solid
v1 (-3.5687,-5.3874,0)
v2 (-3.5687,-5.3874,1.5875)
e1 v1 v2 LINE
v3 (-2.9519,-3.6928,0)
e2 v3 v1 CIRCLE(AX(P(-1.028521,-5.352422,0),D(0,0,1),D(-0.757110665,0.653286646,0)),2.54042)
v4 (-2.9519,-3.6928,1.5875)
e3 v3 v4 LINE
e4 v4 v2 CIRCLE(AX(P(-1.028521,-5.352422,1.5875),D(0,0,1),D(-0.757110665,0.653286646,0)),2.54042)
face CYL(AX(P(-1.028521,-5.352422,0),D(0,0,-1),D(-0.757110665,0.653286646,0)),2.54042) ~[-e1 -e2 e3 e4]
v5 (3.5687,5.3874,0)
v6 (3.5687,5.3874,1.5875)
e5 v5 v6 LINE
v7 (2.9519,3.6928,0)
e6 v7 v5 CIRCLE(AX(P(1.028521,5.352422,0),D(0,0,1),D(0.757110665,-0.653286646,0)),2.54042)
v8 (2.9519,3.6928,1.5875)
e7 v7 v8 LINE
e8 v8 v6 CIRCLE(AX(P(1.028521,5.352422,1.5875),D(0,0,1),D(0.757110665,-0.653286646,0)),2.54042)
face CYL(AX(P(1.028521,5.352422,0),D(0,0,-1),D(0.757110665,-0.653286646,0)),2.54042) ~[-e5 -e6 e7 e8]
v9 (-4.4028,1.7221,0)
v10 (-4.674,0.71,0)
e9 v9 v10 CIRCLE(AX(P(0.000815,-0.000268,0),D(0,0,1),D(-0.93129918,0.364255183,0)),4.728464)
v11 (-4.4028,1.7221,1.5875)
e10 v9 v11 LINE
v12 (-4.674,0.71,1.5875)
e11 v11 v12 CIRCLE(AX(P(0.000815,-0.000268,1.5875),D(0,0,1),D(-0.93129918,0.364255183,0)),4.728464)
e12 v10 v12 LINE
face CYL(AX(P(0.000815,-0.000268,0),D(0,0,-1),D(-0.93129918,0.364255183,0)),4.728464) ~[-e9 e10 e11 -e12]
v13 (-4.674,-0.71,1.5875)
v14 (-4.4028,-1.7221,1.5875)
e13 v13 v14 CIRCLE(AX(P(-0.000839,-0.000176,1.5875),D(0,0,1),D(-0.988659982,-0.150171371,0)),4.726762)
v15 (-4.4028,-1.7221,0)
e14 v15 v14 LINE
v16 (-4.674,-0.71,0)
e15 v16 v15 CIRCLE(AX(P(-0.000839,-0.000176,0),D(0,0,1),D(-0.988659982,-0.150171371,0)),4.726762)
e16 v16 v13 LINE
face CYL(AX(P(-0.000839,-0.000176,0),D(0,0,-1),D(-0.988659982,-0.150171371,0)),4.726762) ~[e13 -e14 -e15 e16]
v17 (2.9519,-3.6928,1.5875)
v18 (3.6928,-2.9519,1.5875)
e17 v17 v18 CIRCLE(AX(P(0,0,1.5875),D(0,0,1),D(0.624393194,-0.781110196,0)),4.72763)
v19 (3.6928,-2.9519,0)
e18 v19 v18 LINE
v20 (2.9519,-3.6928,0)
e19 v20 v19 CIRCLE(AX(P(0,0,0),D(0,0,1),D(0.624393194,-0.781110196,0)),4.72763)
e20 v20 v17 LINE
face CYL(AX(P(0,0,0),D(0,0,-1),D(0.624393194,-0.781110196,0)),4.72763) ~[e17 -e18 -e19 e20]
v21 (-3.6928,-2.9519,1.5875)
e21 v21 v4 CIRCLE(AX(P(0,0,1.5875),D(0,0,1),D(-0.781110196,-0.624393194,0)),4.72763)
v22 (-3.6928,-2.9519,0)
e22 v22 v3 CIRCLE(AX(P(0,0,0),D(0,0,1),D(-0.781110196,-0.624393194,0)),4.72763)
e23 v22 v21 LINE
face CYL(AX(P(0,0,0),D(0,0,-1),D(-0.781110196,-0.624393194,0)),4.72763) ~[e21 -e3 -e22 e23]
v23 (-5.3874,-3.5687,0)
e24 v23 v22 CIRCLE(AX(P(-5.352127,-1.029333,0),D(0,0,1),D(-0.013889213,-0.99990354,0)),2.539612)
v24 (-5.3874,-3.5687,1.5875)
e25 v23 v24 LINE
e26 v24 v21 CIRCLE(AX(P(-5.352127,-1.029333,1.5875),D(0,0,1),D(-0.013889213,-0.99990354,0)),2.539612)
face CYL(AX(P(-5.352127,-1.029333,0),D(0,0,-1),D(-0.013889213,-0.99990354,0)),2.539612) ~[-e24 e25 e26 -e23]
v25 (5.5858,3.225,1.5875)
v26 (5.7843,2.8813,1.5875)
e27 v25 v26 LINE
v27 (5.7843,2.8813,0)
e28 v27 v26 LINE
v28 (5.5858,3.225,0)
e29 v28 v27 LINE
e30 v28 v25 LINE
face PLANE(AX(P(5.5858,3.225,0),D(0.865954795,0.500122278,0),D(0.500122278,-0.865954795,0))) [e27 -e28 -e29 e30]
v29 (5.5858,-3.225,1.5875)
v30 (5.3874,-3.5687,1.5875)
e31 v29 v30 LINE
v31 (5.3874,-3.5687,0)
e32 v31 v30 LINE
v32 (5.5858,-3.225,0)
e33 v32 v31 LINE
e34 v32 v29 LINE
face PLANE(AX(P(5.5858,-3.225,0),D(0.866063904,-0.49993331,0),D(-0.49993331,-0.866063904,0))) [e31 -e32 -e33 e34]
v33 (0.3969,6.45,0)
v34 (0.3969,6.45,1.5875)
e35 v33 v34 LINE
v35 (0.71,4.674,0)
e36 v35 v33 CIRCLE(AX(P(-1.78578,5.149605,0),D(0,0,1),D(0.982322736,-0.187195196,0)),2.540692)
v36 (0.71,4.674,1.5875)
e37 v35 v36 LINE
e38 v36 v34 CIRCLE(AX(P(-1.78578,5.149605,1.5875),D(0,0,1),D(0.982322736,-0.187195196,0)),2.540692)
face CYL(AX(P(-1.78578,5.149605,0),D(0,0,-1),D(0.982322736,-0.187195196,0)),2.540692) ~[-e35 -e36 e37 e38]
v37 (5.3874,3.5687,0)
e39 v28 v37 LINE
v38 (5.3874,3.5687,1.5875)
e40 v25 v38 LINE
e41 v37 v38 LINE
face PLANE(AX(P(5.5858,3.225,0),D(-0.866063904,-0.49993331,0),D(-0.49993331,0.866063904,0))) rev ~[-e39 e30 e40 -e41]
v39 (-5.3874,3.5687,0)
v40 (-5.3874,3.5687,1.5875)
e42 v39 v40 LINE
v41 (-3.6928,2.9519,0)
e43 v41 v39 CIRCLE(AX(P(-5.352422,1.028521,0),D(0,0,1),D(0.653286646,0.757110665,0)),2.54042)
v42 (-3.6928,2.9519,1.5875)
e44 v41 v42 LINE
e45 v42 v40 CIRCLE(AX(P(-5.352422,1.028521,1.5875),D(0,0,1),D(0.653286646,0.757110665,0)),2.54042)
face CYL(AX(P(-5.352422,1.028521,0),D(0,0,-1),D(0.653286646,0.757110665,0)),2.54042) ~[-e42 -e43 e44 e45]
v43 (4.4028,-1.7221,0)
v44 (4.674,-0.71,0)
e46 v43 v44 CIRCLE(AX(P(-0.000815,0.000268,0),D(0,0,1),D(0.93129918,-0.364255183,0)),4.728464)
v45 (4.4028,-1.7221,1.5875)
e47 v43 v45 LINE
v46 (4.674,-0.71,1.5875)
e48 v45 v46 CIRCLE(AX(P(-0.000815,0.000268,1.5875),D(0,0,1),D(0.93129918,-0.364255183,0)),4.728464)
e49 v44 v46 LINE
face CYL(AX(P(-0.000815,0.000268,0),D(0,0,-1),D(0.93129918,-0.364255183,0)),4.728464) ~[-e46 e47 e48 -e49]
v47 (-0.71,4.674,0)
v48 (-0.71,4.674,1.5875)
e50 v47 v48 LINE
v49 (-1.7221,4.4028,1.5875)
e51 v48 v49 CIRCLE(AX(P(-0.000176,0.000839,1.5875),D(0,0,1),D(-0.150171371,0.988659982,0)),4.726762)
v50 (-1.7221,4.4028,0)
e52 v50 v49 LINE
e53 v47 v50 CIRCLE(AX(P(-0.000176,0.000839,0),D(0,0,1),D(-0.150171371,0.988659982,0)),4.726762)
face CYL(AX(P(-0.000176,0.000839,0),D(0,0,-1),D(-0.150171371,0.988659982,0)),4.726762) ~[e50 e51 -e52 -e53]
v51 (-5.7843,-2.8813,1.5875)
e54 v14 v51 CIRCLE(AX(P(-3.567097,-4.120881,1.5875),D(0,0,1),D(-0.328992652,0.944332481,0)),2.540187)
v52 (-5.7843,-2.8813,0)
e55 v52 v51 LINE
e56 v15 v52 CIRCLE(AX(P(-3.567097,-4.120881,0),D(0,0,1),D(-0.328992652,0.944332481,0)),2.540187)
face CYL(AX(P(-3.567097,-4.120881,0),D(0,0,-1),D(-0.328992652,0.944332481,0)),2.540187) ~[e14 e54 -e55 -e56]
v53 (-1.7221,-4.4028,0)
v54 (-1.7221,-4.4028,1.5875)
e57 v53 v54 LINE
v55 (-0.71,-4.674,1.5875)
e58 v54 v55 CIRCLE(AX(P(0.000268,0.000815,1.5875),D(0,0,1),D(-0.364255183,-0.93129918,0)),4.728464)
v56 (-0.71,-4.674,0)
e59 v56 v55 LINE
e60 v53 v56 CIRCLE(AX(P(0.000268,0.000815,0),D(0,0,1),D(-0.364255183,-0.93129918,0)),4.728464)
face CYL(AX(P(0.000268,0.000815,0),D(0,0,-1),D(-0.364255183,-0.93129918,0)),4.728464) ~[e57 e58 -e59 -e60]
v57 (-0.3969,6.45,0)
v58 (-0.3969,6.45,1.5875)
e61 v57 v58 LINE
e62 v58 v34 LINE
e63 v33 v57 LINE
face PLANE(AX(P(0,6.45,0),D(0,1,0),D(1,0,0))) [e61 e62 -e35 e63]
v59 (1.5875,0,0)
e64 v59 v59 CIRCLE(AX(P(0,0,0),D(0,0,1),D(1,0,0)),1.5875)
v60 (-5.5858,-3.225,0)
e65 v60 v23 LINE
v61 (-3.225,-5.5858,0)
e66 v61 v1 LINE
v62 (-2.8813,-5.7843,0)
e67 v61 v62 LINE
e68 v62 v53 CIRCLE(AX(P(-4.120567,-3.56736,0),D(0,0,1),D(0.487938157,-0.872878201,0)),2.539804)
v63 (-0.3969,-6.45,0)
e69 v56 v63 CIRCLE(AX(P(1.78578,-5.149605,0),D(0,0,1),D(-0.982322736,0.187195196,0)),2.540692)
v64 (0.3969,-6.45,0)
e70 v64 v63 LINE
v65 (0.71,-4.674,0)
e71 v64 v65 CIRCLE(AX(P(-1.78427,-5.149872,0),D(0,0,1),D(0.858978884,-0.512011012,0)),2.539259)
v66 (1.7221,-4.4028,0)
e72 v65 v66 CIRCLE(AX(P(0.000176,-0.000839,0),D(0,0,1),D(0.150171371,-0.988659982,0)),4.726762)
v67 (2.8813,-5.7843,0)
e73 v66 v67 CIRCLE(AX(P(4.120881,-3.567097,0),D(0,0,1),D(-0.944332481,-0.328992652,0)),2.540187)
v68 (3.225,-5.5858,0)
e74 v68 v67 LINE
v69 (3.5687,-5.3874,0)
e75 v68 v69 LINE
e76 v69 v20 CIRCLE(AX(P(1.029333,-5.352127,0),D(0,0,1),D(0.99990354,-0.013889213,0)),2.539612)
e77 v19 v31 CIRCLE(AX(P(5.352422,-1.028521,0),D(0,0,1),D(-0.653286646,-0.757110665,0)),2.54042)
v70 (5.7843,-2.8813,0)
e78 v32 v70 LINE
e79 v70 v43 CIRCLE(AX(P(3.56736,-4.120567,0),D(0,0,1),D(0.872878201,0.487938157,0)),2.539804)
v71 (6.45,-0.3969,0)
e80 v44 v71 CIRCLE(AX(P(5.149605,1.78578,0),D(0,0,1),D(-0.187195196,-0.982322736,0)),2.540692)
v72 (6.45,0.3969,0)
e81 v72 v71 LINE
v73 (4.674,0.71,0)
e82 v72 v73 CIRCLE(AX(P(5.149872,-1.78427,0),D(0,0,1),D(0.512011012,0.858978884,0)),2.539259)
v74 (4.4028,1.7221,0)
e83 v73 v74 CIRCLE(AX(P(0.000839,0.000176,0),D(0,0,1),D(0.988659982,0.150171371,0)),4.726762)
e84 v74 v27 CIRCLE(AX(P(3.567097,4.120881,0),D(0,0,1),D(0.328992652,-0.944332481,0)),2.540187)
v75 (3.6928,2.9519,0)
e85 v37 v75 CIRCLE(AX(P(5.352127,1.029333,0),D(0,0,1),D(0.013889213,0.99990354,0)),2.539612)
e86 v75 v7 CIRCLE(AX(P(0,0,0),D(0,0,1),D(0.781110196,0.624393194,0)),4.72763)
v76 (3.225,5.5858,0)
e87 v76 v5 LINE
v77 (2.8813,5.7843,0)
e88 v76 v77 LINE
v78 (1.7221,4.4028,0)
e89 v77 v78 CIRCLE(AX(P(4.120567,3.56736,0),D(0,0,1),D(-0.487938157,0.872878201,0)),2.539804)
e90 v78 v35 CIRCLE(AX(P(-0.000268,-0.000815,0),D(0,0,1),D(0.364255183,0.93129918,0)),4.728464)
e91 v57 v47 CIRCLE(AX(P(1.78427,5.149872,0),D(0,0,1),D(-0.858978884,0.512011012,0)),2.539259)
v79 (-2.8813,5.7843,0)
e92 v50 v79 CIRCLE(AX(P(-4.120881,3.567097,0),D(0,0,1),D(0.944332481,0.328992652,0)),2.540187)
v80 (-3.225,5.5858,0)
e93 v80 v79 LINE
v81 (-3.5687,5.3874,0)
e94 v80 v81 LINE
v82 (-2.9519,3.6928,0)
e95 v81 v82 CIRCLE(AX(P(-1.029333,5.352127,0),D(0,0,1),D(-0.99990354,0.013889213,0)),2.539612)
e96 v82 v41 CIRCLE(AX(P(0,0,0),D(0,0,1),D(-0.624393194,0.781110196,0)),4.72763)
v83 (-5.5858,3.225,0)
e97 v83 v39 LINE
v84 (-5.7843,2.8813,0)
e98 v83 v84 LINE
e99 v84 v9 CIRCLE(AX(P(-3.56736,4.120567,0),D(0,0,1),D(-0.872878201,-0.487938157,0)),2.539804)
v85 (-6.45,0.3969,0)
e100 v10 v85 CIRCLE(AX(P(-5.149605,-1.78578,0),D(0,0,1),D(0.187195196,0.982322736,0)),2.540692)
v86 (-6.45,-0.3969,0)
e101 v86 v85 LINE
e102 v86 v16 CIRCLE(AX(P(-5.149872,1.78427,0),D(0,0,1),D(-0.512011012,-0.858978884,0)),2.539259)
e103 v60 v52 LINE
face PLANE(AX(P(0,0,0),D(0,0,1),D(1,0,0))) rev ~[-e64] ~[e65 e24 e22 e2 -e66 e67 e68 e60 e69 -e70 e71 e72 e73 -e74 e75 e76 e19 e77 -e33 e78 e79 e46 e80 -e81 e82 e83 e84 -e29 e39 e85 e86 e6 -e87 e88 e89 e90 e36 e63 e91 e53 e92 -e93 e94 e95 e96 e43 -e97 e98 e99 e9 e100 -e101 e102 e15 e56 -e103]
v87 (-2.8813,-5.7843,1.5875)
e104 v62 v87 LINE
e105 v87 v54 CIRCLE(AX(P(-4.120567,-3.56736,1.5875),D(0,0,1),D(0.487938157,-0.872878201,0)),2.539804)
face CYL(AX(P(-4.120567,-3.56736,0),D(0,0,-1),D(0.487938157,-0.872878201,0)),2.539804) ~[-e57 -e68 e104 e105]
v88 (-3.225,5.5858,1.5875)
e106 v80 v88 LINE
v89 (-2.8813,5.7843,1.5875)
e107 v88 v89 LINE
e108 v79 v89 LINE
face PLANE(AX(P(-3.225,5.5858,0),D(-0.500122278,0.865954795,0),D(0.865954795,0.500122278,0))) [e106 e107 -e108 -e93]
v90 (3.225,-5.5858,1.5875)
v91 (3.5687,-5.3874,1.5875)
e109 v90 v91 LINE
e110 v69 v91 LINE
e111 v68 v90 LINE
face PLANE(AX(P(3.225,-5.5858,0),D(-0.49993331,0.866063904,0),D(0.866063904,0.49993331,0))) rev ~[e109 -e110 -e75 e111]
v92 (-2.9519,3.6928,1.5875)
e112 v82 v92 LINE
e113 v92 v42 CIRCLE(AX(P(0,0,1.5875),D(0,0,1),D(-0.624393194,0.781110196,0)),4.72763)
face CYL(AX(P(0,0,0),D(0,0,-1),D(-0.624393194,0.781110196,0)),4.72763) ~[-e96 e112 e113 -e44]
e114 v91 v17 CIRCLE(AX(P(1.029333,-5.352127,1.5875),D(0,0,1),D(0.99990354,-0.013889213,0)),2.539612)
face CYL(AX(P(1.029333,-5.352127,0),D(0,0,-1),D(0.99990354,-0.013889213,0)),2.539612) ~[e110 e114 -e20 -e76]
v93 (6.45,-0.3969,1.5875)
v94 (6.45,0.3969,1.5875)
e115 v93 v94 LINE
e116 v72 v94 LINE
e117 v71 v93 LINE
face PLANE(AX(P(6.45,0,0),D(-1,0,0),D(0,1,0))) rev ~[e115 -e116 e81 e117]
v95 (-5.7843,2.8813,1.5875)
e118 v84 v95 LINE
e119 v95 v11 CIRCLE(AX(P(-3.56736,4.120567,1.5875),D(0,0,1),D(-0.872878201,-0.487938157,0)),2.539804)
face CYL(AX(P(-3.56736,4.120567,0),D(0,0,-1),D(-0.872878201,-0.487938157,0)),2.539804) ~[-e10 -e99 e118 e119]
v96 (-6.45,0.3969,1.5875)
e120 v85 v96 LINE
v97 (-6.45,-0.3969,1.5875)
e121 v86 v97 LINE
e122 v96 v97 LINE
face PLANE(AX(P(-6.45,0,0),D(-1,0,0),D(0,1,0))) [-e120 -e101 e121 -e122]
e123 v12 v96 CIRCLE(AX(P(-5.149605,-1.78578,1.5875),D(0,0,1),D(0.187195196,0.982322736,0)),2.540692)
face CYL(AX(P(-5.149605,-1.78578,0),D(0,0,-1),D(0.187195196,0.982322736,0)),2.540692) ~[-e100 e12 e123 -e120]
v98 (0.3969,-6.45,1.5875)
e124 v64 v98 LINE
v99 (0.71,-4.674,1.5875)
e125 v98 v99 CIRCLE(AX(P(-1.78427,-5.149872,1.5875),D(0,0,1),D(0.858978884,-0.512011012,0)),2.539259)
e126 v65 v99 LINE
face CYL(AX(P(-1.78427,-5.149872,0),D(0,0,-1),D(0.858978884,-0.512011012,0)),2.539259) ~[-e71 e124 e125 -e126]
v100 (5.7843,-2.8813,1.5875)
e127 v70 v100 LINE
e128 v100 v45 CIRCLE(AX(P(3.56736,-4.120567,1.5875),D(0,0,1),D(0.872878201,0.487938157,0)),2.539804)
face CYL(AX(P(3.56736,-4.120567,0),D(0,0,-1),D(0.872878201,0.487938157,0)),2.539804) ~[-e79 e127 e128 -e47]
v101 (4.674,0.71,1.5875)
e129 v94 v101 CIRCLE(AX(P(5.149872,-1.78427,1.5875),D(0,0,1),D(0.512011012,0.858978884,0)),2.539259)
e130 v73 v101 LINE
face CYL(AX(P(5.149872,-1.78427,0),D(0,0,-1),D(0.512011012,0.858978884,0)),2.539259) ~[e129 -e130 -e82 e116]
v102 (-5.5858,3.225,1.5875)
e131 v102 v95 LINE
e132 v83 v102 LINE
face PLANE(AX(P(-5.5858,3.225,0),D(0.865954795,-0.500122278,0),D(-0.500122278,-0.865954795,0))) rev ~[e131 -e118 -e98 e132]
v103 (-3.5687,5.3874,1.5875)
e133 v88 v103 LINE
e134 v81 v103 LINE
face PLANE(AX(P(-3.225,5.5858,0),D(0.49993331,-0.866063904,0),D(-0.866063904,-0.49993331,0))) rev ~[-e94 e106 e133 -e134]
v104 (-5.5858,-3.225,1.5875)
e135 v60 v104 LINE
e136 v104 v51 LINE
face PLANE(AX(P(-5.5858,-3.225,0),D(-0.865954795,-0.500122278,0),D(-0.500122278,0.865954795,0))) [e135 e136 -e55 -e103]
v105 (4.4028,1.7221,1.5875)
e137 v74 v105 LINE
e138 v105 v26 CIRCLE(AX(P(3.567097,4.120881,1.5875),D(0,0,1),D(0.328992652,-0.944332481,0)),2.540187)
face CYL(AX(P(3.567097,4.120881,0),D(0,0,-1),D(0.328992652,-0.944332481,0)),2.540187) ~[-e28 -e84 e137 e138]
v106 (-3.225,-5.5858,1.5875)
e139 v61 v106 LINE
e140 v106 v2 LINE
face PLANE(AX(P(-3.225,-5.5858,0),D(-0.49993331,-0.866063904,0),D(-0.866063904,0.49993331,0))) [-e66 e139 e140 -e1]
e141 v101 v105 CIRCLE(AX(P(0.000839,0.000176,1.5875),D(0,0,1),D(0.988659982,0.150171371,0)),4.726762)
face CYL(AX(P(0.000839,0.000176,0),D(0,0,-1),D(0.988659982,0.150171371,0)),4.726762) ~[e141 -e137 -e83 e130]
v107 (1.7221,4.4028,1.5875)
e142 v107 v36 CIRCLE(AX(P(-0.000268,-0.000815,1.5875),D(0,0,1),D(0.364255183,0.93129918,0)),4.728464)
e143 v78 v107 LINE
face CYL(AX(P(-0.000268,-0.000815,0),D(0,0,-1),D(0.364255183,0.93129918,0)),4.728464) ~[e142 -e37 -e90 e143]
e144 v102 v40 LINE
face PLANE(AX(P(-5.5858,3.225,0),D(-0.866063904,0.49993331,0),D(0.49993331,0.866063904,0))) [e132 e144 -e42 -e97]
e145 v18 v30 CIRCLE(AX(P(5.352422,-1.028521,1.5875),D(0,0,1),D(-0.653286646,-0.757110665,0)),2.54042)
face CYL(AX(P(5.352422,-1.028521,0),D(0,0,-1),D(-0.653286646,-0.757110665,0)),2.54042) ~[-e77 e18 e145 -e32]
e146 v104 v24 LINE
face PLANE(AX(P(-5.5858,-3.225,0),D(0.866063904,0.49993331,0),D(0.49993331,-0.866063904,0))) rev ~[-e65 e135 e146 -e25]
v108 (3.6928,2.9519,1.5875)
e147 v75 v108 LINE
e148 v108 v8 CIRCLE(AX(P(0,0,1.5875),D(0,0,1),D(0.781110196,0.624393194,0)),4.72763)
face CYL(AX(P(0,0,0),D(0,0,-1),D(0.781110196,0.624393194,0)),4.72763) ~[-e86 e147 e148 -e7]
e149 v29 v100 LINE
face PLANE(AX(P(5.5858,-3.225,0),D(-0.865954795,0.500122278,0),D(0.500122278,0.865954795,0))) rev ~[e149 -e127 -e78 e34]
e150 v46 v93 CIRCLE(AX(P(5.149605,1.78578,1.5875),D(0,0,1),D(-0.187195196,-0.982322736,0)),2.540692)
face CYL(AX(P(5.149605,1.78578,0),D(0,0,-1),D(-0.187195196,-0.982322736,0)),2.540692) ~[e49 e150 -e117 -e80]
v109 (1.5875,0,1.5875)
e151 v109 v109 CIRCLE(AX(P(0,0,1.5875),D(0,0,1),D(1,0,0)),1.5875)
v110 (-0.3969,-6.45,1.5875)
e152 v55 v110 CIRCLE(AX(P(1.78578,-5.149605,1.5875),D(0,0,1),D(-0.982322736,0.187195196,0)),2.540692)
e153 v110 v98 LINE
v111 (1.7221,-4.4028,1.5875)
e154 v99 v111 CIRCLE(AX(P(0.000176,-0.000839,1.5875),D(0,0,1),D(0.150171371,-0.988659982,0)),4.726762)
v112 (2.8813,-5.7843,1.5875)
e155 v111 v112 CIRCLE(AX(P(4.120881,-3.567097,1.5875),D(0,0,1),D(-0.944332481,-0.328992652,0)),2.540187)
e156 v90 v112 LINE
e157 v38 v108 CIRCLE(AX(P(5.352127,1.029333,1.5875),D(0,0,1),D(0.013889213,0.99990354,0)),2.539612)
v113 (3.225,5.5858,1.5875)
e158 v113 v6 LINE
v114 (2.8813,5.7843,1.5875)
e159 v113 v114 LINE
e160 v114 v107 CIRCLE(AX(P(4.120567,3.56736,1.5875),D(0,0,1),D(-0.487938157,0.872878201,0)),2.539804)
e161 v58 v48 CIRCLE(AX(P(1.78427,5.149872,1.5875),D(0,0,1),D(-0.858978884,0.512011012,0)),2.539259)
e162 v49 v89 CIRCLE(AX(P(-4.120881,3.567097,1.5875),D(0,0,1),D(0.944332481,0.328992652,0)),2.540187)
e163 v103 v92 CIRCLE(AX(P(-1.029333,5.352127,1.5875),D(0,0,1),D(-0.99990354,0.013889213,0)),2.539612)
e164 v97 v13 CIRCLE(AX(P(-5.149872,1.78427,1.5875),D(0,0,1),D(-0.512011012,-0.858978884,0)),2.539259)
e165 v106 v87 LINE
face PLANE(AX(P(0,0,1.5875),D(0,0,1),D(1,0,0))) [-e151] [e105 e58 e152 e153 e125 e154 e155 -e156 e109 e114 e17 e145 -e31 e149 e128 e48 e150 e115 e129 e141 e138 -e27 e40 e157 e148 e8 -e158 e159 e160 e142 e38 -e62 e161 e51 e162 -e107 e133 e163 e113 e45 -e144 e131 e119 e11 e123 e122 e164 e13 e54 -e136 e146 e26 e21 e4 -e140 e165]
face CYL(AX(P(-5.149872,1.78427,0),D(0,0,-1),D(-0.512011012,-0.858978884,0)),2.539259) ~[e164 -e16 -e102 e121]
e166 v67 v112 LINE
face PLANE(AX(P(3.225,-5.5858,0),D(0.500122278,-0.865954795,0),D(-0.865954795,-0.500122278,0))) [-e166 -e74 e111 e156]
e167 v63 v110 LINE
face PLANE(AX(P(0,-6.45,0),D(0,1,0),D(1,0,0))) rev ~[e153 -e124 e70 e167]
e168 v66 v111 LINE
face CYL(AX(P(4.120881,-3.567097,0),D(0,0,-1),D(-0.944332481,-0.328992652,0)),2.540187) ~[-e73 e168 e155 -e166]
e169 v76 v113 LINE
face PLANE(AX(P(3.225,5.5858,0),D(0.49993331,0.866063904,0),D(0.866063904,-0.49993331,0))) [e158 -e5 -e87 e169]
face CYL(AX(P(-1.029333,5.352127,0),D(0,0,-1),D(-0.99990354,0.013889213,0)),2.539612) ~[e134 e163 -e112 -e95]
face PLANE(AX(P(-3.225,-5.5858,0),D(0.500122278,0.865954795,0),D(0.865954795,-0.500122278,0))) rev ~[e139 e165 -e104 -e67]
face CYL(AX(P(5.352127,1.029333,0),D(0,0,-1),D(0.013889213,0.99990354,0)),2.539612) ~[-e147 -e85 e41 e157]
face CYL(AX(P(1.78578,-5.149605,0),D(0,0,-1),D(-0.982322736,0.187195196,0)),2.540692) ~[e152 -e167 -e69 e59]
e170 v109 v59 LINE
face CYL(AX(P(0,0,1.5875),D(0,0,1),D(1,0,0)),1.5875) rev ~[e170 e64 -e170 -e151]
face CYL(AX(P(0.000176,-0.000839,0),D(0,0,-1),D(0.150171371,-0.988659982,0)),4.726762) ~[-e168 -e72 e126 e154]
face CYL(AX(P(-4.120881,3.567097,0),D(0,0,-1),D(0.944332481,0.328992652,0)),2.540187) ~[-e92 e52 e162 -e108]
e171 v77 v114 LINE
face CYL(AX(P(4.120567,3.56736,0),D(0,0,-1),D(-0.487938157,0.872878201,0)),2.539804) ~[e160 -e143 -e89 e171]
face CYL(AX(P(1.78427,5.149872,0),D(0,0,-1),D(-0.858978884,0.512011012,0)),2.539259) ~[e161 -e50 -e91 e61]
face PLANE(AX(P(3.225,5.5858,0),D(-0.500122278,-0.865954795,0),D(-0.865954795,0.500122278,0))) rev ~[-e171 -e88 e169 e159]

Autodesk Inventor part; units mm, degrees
ref_plane "YZ Plane" through (0, 0, 0) normal (1, 0, 0) x (0, 1, 0)
ref_plane "XZ Plane" through (0, 0, 0) normal (0, 1, 0) x (-1, 0, 0)
ref_plane "XY Plane" through (0, 0, 0) normal (0, 0, 1) x (1, 0, 0)
sketch "Sketch1" plane through (0, 0, 0) normal (0, 0, 1) x (1, 0, 0)
  line L0 (0, 0) -> (0, 20.872) construction
  line L1 (0, 0) -> (7.1878, 0) construction
  line L2 (0, 6.45) -> (0.3969, 6.45)
  line L3 (0.3969, 6.45) -> (0.71, 4.674) construction
  line L4 (0.5535, 5.562) -> (2.6468, 5.9311) construction
  arc A0 (0.71, 4.674) -> (0.3969, 6.45) centre (-1.785, 5.1496) ccw
  line L5 (0, 6.45) -> (-0.3969, 6.45)
  arc A1 (-0.3969, 6.45) -> (-0.71, 4.674) centre (1.785, 5.1496) ccw
  line L6 (-0.3969, 6.45) -> (0.3969, 6.45)
  line L7 (-0.3969, 6.45) -> (0.3969, 6.45)
  line L8 (-3.225, 5.5858) -> (-2.8813, 5.7843)
  arc A2 (-1.7221, 4.4028) -> (-2.8813, 5.7843) centre (-4.1207, 3.5672) ccw
  arc A3 (-3.5687, 5.3874) -> (-2.9519, 3.6928) centre (-1.0289, 5.3522) ccw
  line L9 (-3.225, 5.5858) -> (-3.5687, 5.3874)
  line L10 (-5.5858, 3.225) -> (-5.3874, 3.5687)
  arc A4 (-3.6928, 2.9519) -> (-5.3874, 3.5687) centre (-5.3522, 1.0289) ccw
  arc A5 (-5.7843, 2.8813) -> (-4.4028, 1.7221) centre (-3.5672, 4.1207) ccw
  line L11 (-5.5858, 3.225) -> (-5.7843, 2.8813)
  line L12 (-6.45, 0) -> (-6.45, 0.3969)
  arc A6 (-4.674, 0.71) -> (-6.45, 0.3969) centre (-5.1496, -1.785) ccw
  arc A7 (-6.45, -0.3969) -> (-4.674, -0.71) centre (-5.1496, 1.785) ccw
  line L13 (-6.45, 0) -> (-6.45, -0.3969)
  line L14 (-5.5858, -3.225) -> (-5.7843, -2.8813)
  arc A8 (-4.4028, -1.7221) -> (-5.7843, -2.8813) centre (-3.5672, -4.1207) ccw
  arc A9 (-5.3874, -3.5687) -> (-3.6928, -2.9519) centre (-5.3522, -1.0289) ccw
  line L15 (-5.5858, -3.225) -> (-5.3874, -3.5687)
  line L16 (-3.225, -5.5858) -> (-3.5687, -5.3874)
  arc A10 (-2.9519, -3.6928) -> (-3.5687, -5.3874) centre (-1.0289, -5.3522) ccw
  arc A11 (-2.8813, -5.7843) -> (-1.7221, -4.4028) centre (-4.1207, -3.5672) ccw
  line L17 (-3.225, -5.5858) -> (-2.8813, -5.7843)
  line L18 (0, -6.45) -> (-0.3969, -6.45)
  arc A12 (-0.71, -4.674) -> (-0.3969, -6.45) centre (1.785, -5.1496) ccw
  arc A13 (0.3969, -6.45) -> (0.71, -4.674) centre (-1.785, -5.1496) ccw
  line L19 (0, -6.45) -> (0.3969, -6.45)
  line L20 (3.225, -5.5858) -> (2.8813, -5.7843)
  arc A14 (1.7221, -4.4028) -> (2.8813, -5.7843) centre (4.1207, -3.5672) ccw
  arc A15 (3.5687, -5.3874) -> (2.9519, -3.6928) centre (1.0289, -5.3522) ccw
  line L21 (3.225, -5.5858) -> (3.5687, -5.3874)
  line L22 (5.5858, -3.225) -> (5.3874, -3.5687)
  arc A16 (3.6928, -2.9519) -> (5.3874, -3.5687) centre (5.3522, -1.0289) ccw
  arc A17 (5.7843, -2.8813) -> (4.4028, -1.7221) centre (3.5672, -4.1207) ccw
  line L23 (5.5858, -3.225) -> (5.7843, -2.8813)
  line L24 (6.45, 0) -> (6.45, -0.3969)
  arc A18 (4.674, -0.71) -> (6.45, -0.3969) centre (5.1496, 1.785) ccw
  arc A19 (6.45, 0.3969) -> (4.674, 0.71) centre (5.1496, -1.785) ccw
  line L25 (6.45, 0) -> (6.45, 0.3969)
  line L26 (5.5858, 3.225) -> (5.7843, 2.8813)
  arc A20 (4.4028, 1.7221) -> (5.7843, 2.8813) centre (3.5672, 4.1207) ccw
  arc A21 (5.3874, 3.5687) -> (3.6928, 2.9519) centre (5.3522, 1.0289) ccw
  line L27 (5.5858, 3.225) -> (5.3874, 3.5687)
  line L28 (3.225, 5.5858) -> (3.5687, 5.3874)
  arc A22 (2.9519, 3.6928) -> (3.5687, 5.3874) centre (1.0289, 5.3522) ccw
  arc A23 (2.8813, 5.7843) -> (1.7221, 4.4028) centre (4.1207, 3.5672) ccw
  line L29 (3.225, 5.5858) -> (2.8813, 5.7843)
  line L30 (-1.7221, 4.4028) -> (-0.71, 4.674) construction
  arc A24 (1.7221, 4.4028) -> (0.71, 4.674) centre (0, 0) ccw
  arc A25 (3.6928, 2.9519) -> (2.9519, 3.6928) centre (0, 0) ccw
  arc A26 (4.674, 0.71) -> (4.4028, 1.7221) centre (0, 0) ccw
  arc A27 (4.4028, -1.7221) -> (4.674, -0.71) centre (0, 0) ccw
  arc A28 (2.9519, -3.6928) -> (3.6928, -2.9519) centre (0, 0) ccw
  arc A29 (0.71, -4.674) -> (1.7221, -4.4028) centre (0, 0) ccw
  arc A30 (-1.7221, -4.4028) -> (-0.71, -4.674) centre (0, 0) ccw
  arc A31 (-3.6928, -2.9519) -> (-2.9519, -3.6928) centre (0, 0) ccw
  arc A32 (-4.674, -0.71) -> (-4.4028, -1.7221) centre (0, 0) ccw
  arc A33 (-4.4028, 1.7221) -> (-4.674, 0.71) centre (0, 0) ccw
  arc A34 (-0.71, 4.674) -> (-1.7221, 4.4028) centre (0, 0) ccw
  arc A35 (-2.9519, 3.6928) -> (-3.6928, 2.9519) centre (0, 0) ccw
  dimension "d0" = 0.7937
  dimension "d4" = 360
  dimension "d6" = 80
  dimension "d7" = 1.8034
  dimension "d8" = 2.54
  dimension "d11" = 1.0477
extrude "Extrusion1" add sketch "Sketch1" along normal blind 1.5875
sketch "Sketch2" plane through (0, 0, 1.5875) normal (0, 0, 1) x (1, 0, 0)
  arc A0 (1.7221, 4.4028) -> (0.71, 4.674) centre (0, 0) ccw projected
  circle A1 centre (0, 0) radius 1.5875
  dimension "d12" = 3.175
extrude "Extrusion2" cut sketch "Sketch2" against normal blind 1.5875
sketch "Sketch3" plane through (0, 0, 1.5875) normal (0, 0, 1) x (1, 0, 0)
  circle A0 centre (0, 0) radius 1.5875 projected
  arc A1 (-0.3969, 6.45) -> (-0.71, 4.674) centre (1.785, 5.1496) ccw projected
  arc A2 (-0.71, 4.674) -> (-1.7221, 4.4028) centre (0, 0) ccw projected
  arc A3 (-1.7221, 4.4028) -> (-2.8813, 5.7843) centre (-4.1207, 3.5672) ccw projected
  line L0 (-2.8813, 5.7843) -> (-3.5687, 5.3874) projected
  arc A4 (-3.5687, 5.3874) -> (-2.9519, 3.6928) centre (-1.0289, 5.3522) ccw projected
  arc A5 (-2.9519, 3.6928) -> (-3.6928, 2.9519) centre (0, 0) ccw projected
  arc A6 (-3.6928, 2.9519) -> (-5.3874, 3.5687) centre (-5.3522, 1.0289) ccw projected
  line L1 (-5.3874, 3.5687) -> (-5.7843, 2.8813) projected
  arc A7 (-5.7843, 2.8813) -> (-4.4028, 1.7221) centre (-3.5672, 4.1207) ccw projected
  arc A8 (-4.4028, 1.7221) -> (-4.674, 0.71) centre (0, 0) ccw projected
  arc A9 (-4.674, 0.71) -> (-6.45, 0.3969) centre (-5.1496, -1.785) ccw projected
  line L2 (-6.45, 0.3969) -> (-6.45, -0.3969) projected
  arc A10 (-6.45, -0.3969) -> (-4.674, -0.71) centre (-5.1496, 1.785) ccw projected
  arc A11 (-4.674, -0.71) -> (-4.4028, -1.7221) centre (0, 0) ccw projected
  arc A12 (-4.4028, -1.7221) -> (-5.7843, -2.8813) centre (-3.5672, -4.1207) ccw projected
  line L3 (-5.7843, -2.8813) -> (-5.3874, -3.5687) projected
  arc A13 (-5.3874, -3.5687) -> (-3.6928, -2.9519) centre (-5.3522, -1.0289) ccw projected
  arc A14 (-3.6928, -2.9519) -> (-2.9519, -3.6928) centre (0, 0) ccw projected
  arc A15 (-2.9519, -3.6928) -> (-3.5687, -5.3874) centre (-1.0289, -5.3522) ccw projected
  line L4 (-3.5687, -5.3874) -> (-2.8813, -5.7843) projected
  arc A16 (-2.8813, -5.7843) -> (-1.7221, -4.4028) centre (-4.1207, -3.5672) ccw projected
  arc A17 (-1.7221, -4.4028) -> (-0.71, -4.674) centre (0, 0) ccw projected
  arc A18 (-0.71, -4.674) -> (-0.3969, -6.45) centre (1.785, -5.1496) ccw projected
  line L5 (-0.3969, -6.45) -> (0.3969, -6.45) projected
  arc A19 (0.3969, -6.45) -> (0.71, -4.674) centre (-1.785, -5.1496) ccw projected
  arc A20 (0.71, -4.674) -> (1.7221, -4.4028) centre (0, 0) ccw projected
  arc A21 (1.7221, -4.4028) -> (2.8813, -5.7843) centre (4.1207, -3.5672) ccw projected
  line L6 (2.8813, -5.7843) -> (3.5687, -5.3874) projected
  arc A22 (3.5687, -5.3874) -> (2.9519, -3.6928) centre (1.0289, -5.3522) ccw projected
  arc A23 (2.9519, -3.6928) -> (3.6928, -2.9519) centre (0, 0) ccw projected
  arc A24 (3.6928, -2.9519) -> (5.3874, -3.5687) centre (5.3522, -1.0289) ccw projected
  line L7 (5.3874, -3.5687) -> (5.7843, -2.8813) projected
  arc A25 (5.7843, -2.8813) -> (4.4028, -1.7221) centre (3.5672, -4.1207) ccw projected
  arc A26 (4.4028, -1.7221) -> (4.674, -0.71) centre (0, 0) ccw projected
  arc A27 (4.674, -0.71) -> (6.45, -0.3969) centre (5.1496, 1.785) ccw projected
  line L8 (6.45, -0.3969) -> (6.45, 0.3969) projected
  arc A28 (6.45, 0.3969) -> (4.674, 0.71) centre (5.1496, -1.785) ccw projected
  arc A29 (4.674, 0.71) -> (4.4028, 1.7221) centre (0, 0) ccw projected
  arc A30 (4.4028, 1.7221) -> (5.7843, 2.8813) centre (3.5672, 4.1207) ccw projected
  line L9 (5.7843, 2.8813) -> (5.3874, 3.5687) projected
  arc A31 (5.3874, 3.5687) -> (3.6928, 2.9519) centre (5.3522, 1.0289) ccw projected
  arc A32 (3.6928, 2.9519) -> (2.9519, 3.6928) centre (0, 0) ccw projected
  arc A33 (2.9519, 3.6928) -> (3.5687, 5.3874) centre (1.0289, 5.3522) ccw projected
  line L10 (3.5687, 5.3874) -> (2.8813, 5.7843) projected
  arc A34 (2.8813, 5.7843) -> (1.7221, 4.4028) centre (4.1207, 3.5672) ccw projected
  arc A35 (1.7221, 4.4028) -> (0.71, 4.674) centre (0, 0) ccw projected
  arc A36 (0.71, 4.674) -> (0.3969, 6.45) centre (-1.785, 5.1496) ccw projected
  line L11 (0.3969, 6.45) -> (-0.3969, 6.45) projected
  line L12 (-0.71, 4.674) -> (0.71, 4.674)
  arc A37 (0.71, 4.674) -> (0.3969, 6.45) centre (-1.785, 5.1496) ccw
  line L13 (0.3969, 6.45) -> (-0.3969, 6.45)
  arc A38 (-0.3969, 6.45) -> (-0.71, 4.674) centre (1.785, 5.1496) ccw
properties part number "Sun"
